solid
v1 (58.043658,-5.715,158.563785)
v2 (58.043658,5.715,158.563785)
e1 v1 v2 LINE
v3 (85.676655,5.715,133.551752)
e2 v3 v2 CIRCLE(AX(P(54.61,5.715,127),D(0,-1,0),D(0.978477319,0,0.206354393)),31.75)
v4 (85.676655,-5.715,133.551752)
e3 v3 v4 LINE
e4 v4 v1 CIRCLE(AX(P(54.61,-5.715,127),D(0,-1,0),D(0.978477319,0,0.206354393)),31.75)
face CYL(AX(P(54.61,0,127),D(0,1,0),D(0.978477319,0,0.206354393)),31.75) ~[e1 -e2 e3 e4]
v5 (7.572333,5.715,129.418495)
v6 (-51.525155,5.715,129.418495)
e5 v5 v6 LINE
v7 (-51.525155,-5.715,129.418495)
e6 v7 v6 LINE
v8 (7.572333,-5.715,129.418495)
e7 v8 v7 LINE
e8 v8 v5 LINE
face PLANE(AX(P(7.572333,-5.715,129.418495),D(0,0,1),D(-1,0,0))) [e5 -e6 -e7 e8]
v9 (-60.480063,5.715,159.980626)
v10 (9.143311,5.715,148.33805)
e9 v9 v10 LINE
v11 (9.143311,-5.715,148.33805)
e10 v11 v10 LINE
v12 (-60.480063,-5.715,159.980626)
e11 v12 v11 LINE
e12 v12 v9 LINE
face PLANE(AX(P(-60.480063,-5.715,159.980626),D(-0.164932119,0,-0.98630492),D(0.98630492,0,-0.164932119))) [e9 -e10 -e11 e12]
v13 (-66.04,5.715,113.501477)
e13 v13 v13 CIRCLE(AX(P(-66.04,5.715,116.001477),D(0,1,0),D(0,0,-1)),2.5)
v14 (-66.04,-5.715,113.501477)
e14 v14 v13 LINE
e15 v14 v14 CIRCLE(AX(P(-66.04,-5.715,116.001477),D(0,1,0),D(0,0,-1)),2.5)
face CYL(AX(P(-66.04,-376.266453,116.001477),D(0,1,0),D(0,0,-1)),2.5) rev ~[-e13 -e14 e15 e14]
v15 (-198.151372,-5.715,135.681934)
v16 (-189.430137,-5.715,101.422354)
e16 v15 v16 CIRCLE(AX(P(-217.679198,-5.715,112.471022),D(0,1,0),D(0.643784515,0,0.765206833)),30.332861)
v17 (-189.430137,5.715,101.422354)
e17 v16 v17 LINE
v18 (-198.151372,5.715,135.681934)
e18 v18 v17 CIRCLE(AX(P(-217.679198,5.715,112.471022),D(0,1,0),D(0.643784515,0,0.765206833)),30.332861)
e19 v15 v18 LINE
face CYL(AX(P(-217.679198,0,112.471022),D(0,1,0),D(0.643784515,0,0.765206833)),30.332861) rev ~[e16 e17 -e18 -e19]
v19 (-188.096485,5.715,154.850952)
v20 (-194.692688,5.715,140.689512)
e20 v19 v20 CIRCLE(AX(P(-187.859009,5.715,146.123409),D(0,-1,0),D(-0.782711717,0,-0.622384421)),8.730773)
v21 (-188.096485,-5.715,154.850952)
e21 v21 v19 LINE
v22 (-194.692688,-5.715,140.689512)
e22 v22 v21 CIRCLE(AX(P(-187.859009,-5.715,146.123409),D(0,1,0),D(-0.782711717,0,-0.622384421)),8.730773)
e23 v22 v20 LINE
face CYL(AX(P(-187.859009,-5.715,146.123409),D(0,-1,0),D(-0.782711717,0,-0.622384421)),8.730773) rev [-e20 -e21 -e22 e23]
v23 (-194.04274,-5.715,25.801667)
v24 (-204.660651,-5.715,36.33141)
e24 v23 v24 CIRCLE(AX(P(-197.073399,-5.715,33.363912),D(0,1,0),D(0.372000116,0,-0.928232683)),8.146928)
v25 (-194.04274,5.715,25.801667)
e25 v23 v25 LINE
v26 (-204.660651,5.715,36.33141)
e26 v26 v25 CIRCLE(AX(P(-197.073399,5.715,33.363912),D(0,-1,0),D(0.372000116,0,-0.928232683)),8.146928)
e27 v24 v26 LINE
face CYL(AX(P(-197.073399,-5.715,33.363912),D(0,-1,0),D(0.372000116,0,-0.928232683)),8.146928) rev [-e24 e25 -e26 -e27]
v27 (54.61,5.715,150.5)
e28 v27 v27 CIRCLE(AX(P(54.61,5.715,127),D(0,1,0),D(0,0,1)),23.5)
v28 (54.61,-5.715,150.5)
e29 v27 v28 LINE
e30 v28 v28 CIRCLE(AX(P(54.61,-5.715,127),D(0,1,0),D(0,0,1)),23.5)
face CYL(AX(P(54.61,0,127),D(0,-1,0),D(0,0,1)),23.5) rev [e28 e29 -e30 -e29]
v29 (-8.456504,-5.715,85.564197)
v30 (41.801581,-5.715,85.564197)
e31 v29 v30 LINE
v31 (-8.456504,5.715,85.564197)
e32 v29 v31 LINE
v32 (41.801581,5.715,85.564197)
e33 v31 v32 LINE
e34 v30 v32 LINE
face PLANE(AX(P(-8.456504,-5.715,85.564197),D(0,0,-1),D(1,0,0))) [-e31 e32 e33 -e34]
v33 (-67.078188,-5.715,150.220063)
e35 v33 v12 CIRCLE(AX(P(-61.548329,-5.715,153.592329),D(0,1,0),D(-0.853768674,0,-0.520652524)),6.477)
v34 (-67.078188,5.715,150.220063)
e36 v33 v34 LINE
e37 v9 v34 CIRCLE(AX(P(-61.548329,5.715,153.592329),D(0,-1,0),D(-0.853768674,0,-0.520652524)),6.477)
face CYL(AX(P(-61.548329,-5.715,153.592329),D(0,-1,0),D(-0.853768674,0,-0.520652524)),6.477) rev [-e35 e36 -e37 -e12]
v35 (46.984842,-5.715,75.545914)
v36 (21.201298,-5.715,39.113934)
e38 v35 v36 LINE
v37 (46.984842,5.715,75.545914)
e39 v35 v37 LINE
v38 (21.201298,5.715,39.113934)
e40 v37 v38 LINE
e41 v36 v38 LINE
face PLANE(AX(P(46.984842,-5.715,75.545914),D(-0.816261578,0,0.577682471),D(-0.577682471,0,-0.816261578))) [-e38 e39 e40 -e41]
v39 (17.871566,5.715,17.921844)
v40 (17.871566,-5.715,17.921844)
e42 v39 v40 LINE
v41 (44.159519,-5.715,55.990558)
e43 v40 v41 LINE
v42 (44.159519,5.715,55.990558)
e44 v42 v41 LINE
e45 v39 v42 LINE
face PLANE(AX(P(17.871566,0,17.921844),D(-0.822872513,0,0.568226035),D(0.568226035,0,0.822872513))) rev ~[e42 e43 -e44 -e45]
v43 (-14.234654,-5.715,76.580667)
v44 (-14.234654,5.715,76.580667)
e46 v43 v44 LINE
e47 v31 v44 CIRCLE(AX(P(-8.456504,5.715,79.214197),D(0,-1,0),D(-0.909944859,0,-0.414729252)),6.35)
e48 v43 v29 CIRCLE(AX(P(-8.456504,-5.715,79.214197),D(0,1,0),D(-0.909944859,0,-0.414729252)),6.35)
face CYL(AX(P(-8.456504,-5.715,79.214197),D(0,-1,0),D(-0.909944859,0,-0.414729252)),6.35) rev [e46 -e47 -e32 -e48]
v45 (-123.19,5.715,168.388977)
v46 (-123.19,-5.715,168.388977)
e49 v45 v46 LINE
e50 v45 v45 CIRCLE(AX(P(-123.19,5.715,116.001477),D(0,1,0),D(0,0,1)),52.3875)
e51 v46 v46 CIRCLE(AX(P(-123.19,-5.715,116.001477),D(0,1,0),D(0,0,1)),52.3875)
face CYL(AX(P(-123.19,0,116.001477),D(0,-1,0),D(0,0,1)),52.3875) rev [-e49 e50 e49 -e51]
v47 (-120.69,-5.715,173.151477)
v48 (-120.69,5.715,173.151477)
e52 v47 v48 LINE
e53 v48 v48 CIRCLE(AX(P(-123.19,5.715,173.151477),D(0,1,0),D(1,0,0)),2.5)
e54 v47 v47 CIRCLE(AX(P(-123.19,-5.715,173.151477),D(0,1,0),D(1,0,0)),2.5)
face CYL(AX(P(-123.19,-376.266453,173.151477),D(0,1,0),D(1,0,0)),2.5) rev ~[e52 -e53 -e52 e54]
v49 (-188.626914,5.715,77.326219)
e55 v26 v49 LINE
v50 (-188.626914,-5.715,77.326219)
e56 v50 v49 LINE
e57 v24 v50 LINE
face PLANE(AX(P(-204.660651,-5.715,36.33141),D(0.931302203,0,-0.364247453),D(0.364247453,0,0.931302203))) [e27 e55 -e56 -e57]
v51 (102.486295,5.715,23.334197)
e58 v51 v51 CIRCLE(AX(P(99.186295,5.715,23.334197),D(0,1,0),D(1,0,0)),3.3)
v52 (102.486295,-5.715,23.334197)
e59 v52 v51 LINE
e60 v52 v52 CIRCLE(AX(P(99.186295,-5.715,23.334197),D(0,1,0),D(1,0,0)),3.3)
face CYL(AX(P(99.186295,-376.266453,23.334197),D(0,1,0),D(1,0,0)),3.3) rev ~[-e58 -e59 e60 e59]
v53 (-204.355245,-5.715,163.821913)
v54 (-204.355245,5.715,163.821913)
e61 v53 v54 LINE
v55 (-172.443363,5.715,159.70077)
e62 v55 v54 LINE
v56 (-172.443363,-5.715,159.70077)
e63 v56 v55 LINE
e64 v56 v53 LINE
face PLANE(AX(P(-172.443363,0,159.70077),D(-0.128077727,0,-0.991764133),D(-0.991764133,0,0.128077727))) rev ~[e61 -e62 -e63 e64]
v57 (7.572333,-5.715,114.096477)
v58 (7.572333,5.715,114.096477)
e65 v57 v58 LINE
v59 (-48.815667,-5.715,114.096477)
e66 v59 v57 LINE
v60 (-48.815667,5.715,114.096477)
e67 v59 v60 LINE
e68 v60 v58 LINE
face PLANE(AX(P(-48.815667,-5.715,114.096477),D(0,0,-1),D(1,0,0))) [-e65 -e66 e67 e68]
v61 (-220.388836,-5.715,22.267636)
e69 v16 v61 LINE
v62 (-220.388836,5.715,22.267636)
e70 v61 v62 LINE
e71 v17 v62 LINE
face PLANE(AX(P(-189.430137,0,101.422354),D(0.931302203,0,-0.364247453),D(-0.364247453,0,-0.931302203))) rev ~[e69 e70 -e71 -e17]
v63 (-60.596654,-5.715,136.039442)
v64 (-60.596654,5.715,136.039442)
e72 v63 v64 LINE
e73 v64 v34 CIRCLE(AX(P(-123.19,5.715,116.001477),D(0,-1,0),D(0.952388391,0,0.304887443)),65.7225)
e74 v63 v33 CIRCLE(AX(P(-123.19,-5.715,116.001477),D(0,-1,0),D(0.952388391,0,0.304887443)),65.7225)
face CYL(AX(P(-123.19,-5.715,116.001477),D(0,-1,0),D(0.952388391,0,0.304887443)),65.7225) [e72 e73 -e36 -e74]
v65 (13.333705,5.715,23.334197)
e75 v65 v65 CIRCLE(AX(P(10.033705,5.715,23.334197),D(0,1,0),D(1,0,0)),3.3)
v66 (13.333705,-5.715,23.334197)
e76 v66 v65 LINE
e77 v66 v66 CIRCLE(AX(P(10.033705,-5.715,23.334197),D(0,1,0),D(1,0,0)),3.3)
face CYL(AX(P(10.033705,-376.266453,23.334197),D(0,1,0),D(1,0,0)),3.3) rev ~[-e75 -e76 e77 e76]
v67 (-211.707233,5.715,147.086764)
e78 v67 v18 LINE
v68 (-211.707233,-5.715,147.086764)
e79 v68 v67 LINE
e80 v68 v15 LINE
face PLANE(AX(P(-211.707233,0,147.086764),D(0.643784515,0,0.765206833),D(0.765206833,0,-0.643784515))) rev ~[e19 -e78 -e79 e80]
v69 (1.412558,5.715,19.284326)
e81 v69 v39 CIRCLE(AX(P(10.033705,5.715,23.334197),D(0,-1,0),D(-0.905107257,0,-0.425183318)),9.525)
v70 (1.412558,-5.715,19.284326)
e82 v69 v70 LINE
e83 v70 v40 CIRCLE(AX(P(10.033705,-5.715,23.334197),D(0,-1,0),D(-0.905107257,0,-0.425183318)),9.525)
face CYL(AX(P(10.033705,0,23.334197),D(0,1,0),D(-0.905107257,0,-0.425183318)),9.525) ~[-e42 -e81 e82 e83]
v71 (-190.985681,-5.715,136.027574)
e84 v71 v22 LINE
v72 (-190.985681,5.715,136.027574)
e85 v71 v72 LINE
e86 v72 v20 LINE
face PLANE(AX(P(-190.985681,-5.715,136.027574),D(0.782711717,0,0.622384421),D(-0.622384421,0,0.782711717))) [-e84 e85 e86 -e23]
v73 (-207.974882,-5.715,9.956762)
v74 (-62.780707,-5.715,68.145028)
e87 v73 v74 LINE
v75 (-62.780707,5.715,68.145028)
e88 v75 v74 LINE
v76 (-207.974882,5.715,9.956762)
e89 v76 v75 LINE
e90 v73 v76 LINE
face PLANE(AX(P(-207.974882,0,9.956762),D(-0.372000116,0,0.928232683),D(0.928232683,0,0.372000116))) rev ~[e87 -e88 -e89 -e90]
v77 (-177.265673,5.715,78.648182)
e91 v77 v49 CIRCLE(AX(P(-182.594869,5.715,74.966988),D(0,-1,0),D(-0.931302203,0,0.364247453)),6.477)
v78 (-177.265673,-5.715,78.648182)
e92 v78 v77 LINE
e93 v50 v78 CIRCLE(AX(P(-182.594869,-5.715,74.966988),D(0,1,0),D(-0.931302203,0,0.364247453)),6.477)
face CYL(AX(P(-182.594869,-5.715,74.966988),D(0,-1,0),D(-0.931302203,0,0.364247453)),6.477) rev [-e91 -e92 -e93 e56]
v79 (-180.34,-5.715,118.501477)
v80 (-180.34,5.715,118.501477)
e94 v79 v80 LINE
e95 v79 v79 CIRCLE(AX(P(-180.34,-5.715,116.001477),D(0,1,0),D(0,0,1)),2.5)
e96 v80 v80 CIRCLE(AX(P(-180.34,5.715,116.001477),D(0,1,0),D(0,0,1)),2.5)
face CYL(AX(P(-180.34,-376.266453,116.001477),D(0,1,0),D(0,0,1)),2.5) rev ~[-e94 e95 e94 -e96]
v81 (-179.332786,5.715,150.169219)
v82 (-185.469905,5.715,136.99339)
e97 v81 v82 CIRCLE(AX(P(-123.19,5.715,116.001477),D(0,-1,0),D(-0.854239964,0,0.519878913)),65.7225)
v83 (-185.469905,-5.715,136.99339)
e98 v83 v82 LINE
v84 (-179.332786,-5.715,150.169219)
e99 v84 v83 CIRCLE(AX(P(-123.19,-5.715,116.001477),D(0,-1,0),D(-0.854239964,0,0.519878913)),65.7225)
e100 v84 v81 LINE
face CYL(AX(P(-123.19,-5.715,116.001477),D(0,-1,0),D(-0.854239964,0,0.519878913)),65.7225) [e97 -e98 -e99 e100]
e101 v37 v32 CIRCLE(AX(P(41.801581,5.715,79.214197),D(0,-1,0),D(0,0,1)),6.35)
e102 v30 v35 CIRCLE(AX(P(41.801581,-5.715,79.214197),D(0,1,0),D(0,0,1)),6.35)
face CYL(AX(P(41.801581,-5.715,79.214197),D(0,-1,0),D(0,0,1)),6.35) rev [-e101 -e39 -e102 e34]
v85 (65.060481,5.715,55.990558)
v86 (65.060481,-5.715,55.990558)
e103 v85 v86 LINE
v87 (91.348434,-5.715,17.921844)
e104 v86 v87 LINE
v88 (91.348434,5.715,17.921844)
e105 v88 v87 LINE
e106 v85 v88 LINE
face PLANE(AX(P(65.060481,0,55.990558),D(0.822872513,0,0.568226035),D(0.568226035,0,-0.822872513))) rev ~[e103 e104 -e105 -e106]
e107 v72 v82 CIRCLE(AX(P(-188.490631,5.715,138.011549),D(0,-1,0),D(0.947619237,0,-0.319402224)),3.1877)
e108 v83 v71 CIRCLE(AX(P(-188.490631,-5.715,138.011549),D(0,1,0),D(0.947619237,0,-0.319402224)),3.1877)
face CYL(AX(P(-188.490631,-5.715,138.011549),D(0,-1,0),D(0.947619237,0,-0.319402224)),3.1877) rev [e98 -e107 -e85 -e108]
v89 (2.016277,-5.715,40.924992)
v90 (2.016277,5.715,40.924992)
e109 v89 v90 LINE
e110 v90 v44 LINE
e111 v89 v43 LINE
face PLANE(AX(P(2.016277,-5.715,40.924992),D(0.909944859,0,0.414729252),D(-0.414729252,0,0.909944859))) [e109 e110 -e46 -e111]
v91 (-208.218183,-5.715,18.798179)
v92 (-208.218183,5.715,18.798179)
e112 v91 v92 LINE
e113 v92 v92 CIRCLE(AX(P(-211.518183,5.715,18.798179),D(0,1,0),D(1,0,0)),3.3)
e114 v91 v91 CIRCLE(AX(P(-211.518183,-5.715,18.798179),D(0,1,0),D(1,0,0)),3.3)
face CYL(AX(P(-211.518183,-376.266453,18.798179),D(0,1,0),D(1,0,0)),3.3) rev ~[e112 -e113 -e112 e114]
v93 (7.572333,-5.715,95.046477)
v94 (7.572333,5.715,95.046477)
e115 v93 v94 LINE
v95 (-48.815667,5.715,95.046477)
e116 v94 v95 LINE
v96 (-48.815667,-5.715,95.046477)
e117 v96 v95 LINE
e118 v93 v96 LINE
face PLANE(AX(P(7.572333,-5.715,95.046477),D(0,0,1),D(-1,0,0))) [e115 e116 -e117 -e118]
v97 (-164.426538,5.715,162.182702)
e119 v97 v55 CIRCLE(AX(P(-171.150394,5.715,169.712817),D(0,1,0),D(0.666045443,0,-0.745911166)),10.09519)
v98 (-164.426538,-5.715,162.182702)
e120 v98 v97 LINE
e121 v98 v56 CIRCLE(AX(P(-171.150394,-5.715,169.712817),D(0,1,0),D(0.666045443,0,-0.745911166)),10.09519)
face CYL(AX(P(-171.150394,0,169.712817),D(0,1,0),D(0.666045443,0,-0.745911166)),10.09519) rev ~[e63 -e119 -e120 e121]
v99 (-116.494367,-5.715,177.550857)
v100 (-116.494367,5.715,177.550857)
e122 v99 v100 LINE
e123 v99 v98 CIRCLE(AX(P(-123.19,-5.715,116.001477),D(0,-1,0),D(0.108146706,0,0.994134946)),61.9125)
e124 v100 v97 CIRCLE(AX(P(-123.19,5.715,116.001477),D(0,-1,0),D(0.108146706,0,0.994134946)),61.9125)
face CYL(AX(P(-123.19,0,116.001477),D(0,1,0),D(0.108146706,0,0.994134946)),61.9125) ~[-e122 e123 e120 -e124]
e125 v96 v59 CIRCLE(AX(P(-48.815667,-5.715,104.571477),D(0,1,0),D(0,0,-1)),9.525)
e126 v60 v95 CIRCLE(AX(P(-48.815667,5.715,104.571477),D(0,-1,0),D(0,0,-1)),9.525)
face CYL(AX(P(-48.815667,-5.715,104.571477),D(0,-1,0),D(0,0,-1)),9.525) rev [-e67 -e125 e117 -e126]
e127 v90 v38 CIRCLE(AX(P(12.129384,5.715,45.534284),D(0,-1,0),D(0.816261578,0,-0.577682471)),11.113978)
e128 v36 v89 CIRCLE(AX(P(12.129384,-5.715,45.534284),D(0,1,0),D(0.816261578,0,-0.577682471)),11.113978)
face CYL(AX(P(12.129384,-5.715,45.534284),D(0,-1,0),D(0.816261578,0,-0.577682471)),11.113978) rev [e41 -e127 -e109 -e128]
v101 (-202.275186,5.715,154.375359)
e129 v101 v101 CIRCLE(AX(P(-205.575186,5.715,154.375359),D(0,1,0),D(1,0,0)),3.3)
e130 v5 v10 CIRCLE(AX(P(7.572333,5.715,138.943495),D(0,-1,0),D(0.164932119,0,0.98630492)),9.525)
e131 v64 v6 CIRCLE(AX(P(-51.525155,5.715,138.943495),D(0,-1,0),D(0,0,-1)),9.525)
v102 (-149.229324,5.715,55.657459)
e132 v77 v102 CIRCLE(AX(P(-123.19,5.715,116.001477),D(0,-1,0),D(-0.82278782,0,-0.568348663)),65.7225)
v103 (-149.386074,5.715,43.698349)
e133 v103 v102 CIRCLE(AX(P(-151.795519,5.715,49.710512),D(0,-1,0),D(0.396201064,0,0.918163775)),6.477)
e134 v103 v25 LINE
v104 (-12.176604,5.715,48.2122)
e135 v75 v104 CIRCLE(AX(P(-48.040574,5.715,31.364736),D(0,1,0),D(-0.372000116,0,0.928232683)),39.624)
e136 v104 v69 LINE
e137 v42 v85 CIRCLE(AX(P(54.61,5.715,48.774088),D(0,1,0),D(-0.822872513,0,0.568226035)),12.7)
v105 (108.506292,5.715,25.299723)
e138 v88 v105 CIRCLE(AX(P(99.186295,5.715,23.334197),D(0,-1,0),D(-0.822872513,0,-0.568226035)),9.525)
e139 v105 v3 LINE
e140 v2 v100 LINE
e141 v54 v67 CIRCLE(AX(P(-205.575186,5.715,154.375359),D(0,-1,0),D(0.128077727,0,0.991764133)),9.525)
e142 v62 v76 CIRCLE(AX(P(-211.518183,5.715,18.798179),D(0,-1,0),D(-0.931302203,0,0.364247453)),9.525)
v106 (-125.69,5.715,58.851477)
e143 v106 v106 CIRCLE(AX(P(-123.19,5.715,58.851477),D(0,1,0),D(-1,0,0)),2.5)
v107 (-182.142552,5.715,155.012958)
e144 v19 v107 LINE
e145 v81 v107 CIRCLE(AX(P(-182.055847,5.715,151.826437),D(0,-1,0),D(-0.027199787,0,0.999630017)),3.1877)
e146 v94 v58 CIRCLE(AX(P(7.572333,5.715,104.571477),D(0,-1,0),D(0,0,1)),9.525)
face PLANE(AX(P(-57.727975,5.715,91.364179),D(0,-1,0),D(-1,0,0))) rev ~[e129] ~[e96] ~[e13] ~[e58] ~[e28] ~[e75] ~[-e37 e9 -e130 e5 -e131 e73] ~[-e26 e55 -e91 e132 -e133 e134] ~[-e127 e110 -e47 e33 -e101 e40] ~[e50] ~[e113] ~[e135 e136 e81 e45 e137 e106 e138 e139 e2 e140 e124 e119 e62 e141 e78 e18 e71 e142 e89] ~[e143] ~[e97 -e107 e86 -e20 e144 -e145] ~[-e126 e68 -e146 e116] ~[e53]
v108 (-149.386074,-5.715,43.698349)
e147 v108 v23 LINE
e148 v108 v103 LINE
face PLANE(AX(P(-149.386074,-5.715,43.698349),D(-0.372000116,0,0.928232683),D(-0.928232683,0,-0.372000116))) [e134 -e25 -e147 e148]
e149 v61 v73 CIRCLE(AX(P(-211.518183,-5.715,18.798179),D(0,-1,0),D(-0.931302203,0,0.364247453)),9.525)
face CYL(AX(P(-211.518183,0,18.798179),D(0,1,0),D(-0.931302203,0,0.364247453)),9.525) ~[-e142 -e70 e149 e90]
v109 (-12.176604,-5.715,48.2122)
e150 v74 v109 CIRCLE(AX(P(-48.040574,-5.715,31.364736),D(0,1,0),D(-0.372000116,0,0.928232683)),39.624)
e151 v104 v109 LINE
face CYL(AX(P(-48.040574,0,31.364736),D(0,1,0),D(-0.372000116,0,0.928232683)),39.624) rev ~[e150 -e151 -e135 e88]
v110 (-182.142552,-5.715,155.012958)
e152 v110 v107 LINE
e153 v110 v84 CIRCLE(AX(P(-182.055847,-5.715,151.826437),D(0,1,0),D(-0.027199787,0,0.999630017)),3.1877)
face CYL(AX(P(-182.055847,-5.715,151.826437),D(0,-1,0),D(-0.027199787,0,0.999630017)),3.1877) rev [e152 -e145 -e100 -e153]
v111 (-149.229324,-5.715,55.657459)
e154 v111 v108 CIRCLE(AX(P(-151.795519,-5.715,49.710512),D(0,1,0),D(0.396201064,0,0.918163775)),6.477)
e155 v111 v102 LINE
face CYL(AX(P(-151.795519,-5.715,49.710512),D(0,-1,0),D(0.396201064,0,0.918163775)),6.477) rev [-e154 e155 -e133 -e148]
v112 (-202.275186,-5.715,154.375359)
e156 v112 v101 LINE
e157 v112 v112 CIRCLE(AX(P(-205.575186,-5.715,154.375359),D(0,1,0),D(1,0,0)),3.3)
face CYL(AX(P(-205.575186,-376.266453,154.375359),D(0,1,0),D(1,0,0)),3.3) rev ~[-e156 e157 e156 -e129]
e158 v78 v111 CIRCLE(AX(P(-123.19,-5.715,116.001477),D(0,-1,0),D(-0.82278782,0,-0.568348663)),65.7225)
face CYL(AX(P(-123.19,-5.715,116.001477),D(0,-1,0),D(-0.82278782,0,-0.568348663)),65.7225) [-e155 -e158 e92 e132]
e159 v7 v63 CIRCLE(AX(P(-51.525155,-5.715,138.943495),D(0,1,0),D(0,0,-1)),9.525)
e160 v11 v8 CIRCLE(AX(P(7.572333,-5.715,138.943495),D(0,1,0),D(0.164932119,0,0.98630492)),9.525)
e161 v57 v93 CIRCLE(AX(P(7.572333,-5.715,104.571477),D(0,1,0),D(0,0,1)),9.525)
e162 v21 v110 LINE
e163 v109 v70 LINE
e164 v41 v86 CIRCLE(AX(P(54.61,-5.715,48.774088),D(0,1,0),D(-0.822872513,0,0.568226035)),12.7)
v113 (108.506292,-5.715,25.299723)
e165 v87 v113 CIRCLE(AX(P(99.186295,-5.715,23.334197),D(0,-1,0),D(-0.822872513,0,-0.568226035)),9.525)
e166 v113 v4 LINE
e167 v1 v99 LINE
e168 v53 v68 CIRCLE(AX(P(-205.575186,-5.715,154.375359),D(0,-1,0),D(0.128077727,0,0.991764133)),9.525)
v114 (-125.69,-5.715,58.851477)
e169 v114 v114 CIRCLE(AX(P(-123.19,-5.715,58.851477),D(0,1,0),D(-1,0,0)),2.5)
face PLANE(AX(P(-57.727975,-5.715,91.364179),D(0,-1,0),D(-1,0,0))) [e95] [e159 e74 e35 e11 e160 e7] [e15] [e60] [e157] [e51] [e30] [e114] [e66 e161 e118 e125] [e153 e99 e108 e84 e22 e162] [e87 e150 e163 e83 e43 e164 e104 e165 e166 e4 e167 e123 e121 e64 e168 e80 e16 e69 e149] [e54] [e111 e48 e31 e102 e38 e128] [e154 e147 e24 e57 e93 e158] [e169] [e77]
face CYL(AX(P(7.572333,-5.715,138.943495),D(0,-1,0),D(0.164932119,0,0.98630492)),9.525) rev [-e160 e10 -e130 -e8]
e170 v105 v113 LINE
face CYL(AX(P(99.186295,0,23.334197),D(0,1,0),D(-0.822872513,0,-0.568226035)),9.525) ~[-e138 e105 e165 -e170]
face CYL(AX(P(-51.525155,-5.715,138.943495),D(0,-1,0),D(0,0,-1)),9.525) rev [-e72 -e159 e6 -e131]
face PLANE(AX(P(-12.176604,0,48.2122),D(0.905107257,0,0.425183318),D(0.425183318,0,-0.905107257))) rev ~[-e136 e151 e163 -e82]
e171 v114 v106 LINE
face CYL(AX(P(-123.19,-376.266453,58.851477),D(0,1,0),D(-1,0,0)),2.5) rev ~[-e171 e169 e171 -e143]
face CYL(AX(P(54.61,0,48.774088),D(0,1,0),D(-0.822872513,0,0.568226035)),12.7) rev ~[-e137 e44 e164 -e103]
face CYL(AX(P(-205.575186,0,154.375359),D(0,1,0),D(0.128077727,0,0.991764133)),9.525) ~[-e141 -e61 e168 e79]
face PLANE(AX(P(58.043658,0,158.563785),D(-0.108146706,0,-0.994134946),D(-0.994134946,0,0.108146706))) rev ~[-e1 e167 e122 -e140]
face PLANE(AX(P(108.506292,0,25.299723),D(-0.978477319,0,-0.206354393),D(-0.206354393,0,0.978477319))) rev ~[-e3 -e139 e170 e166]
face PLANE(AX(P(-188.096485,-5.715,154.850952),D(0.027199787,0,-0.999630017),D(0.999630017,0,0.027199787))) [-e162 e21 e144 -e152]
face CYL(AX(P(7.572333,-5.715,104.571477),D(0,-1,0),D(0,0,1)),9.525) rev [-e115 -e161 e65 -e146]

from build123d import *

# Parameters (mm, degrees)
SKETCH1_R             = 52.3875
SKETCH1_R_2           = 23.5
BOSS_EXTRUDE1_DEPTH   = 5.715
M6_CLEARANCE_HOLE1_D  = 6.6
F_5_0MM_DOWEL_HOLE1_D = 5
CIRPATTERN1_COUNT     = 4
CUT_EXTRUDE1_DEPTH    = 284.979078357
CUT_EXTRUDE2_DEPTH    = 284.979078357


with BuildPart() as part:
    # Sketch1 → Boss-Extrude1 (new, symmetric)
    with BuildSketch(Plane(origin=(0, 0, 0), x_dir=(1, 0, 0), z_dir=(0, 1, 0))):
        with BuildLine():
            Line((-207.974881785, -9.956762437), (-62.780706514, -68.14502812))
            ThreePointArc((-62.780706514, -68.14502812), (-33.518744337, -68.231765471), (-12.176603989, -48.212200061))
            Line((-12.176603989, -48.212200061), (1.412558245, -19.284326264))
            ThreePointArc((1.412558245, -19.284326264), (9.247910088, -13.841666007), (17.871565555, -17.92184438))
            Line((17.871565555, -17.92184438), (44.159519082, -55.990558325))
            ThreePointArc((44.159519082, -55.990558325), (54.61, -61.474087679), (65.060480918, -55.990558325))
            Line((65.060480918, -55.990558325), (91.348434445, -17.92184438))
            ThreePointArc((91.348434445, -17.92184438), (102.948934458, -14.583873353), (108.5062916, -25.299722957))
            Line((108.5062916, -25.299722957), (85.67665489, -133.551751975))
            ThreePointArc((85.67665489, -133.551751975), (75.916532775, -150.539204768), (58.043657912, -158.563784522))
            Line((58.043657912, -158.563784522), (-116.494367072, -177.55085719))
            ThreePointArc((-116.494367072, -177.55085719), (-142.092740129, -174.957766874), (-164.426538493, -162.182702446))
            ThreePointArc((-164.426538493, -162.182702446), (-168.164823601, -160.06920649), (-172.443362527, -159.700770109))
            Line((-172.443362527, -159.700770109), (-204.355245166, -163.82191268))
            ThreePointArc((-204.355245166, -163.82191268), (-214.295764489, -158.206433226), (-211.707233022, -147.086764223))
            Line((-211.707233022, -147.086764223), (-198.151371623, -135.681934472))
            ThreePointArc((-198.151371623, -135.681934472), (-188.283833694, -119.954004575), (-189.430137427, -101.422354045))
            Line((-189.430137427, -101.422354045), (-220.388836369, -22.267635732))
            ThreePointArc((-220.388836369, -22.267635732), (-218.225236723, -12.034965467), (-207.974881785, -9.956762437))
        make_face()
        with Locations(Location((-123.19, -116.001477372, 0), (0, 0, 270))):
            Circle(SKETCH1_R, mode=Mode.SUBTRACT)
        with Locations(Location((54.61, -127, 0), (0, 0, 270))):
            Circle(SKETCH1_R_2, mode=Mode.SUBTRACT)
    extrude(amount=BOSS_EXTRUDE1_DEPTH, both=True)

    # M6 Clearance Hole1 (through all)
    with Locations(Plane(origin=(0, -5.715, 0), x_dir=(-1, 0, 0), z_dir=(0, -1, 0))):
        with Locations((-10.033704867, -23.334197365), (211.518182886, -18.798178744), (205.575185514, -154.375359311), (-99.186295133, -23.334197365)):
            Hole(M6_CLEARANCE_HOLE1_D / 2)

    # Ø5.0mm Dowel Hole1 (through all)
    with Locations(Plane(origin=(0, -5.715, 0), x_dir=(-1, 0, 0), z_dir=(0, -1, 0))):
        with Locations((123.19, -173.151477372)):
            f_5_0mm_dowel_hole1 = Hole(F_5_0MM_DOWEL_HOLE1_D / 2)

    # CirPattern1: Ø5.0mm Dowel Hole1 ×4 about axis
    cirpattern1_axis = Axis((-123.19, 0, 116.001477372), (0, 1, 0))
    for i in range(1, CIRPATTERN1_COUNT):
        add(f_5_0mm_dowel_hole1.rotate(cirpattern1_axis, i * 360 / CIRPATTERN1_COUNT), mode=Mode.SUBTRACT)

    # Sketch6 → Cut-Extrude1 (cut, through all)
    with BuildSketch(Plane.XZ.offset(5.715)):
        with BuildLine():
            ThreePointArc((-14.234653979, 76.580666612), (-13.797169823, 82.649279585), (-8.456504121, 85.564197365))
            Line((-8.456504121, 85.564197365), (41.801580719, 85.564197365))
            ThreePointArc((41.801580719, 85.564197365), (47.441443369, 82.132150292), (46.984841737, 75.545913676))
            Line((46.984841737, 75.545913676), (21.201297863, 39.113933708))
            ThreePointArc((21.201297863, 39.113933708), (11.084872861, 34.469497273), (2.016277078, 40.924992231))
            Line((2.016277078, 40.924992231), (-14.234653979, 76.580666612))
        make_face()
        with BuildLine():
            ThreePointArc((-188.626913597, 77.326218823), (-183.343464985, 81.400582198), (-177.265672517, 78.648182362))
            ThreePointArc((-177.265672517, 78.648182362), (-164.864290964, 65.181201114), (-149.229324423, 55.657458697))
            ThreePointArc((-149.229324423, 55.657458697), (-145.319075006, 49.625624375), (-149.386073966, 43.698348841))
            Line((-149.386073966, 43.698348841), (-194.042740287, 25.801666969))
            ThreePointArc((-194.042740287, 25.801666969), (-202.810079512, 27.579196728), (-204.660650751, 36.331409888))
            Line((-204.660650751, 36.331409888), (-188.626913597, 77.326218823))
        make_face()
        with BuildLine():
            ThreePointArc((-194.692687992, 140.689511725), (-195.773357295, 149.809803058), (-188.096484537, 154.850952212))
            Line((-188.096484537, 154.850952212), (-182.142551509, 155.01295786))
            ThreePointArc((-182.142551509, 155.01295786), (-179.298484939, 153.425933155), (-179.332786017, 150.169219243))
            ThreePointArc((-179.332786017, 150.169219243), (-182.766707481, 143.751485155), (-185.46990532, 136.993390091))
            ThreePointArc((-185.46990532, 136.993390091), (-187.940827525, 134.871620657), (-190.985681304, 136.027573744))
            Line((-190.985681304, 136.027573744), (-194.692687992, 140.689511725))
        make_face()
    extrude(amount=-CUT_EXTRUDE1_DEPTH, mode=Mode.SUBTRACT)

    # Sketch7 → Cut-Extrude2 (cut, through all)
    with BuildSketch(Plane.XZ.offset(5.715)):
        with BuildLine():
            Line((-48.815667356, 114.096477372), (7.572332644, 114.096477372))
            ThreePointArc((7.572332644, 114.096477372), (17.097332644, 104.571477372), (7.572332644, 95.046477372))
            Line((7.572332644, 95.046477372), (-48.815667356, 95.046477372))
            ThreePointArc((-48.815667356, 95.046477372), (-58.340667356, 104.571477372), (-48.815667356, 114.096477372))
        make_face()
        with BuildLine():
            Line((-60.480063265, 159.980626251), (9.143311078, 148.338049571))
            ThreePointArc((9.143311078, 148.338049571), (17.064665217, 138.155302762), (7.572332644, 129.418495204))
            Line((7.572332644, 129.418495204), (-51.525154545, 129.418495204))
            ThreePointArc((-51.525154545, 129.418495204), (-57.140513894, 131.249772802), (-60.59665397, 136.039442314))
            ThreePointArc((-60.59665397, 136.039442314), (-63.415414116, 143.322639291), (-67.078188304, 150.220062883))
            ThreePointArc((-67.078188304, 150.220062883), (-66.914295931, 157.219714512), (-60.480063265, 159.980626251))
        make_face()
    extrude(amount=-CUT_EXTRUDE2_DEPTH, mode=Mode.SUBTRACT)


solid = part.part
